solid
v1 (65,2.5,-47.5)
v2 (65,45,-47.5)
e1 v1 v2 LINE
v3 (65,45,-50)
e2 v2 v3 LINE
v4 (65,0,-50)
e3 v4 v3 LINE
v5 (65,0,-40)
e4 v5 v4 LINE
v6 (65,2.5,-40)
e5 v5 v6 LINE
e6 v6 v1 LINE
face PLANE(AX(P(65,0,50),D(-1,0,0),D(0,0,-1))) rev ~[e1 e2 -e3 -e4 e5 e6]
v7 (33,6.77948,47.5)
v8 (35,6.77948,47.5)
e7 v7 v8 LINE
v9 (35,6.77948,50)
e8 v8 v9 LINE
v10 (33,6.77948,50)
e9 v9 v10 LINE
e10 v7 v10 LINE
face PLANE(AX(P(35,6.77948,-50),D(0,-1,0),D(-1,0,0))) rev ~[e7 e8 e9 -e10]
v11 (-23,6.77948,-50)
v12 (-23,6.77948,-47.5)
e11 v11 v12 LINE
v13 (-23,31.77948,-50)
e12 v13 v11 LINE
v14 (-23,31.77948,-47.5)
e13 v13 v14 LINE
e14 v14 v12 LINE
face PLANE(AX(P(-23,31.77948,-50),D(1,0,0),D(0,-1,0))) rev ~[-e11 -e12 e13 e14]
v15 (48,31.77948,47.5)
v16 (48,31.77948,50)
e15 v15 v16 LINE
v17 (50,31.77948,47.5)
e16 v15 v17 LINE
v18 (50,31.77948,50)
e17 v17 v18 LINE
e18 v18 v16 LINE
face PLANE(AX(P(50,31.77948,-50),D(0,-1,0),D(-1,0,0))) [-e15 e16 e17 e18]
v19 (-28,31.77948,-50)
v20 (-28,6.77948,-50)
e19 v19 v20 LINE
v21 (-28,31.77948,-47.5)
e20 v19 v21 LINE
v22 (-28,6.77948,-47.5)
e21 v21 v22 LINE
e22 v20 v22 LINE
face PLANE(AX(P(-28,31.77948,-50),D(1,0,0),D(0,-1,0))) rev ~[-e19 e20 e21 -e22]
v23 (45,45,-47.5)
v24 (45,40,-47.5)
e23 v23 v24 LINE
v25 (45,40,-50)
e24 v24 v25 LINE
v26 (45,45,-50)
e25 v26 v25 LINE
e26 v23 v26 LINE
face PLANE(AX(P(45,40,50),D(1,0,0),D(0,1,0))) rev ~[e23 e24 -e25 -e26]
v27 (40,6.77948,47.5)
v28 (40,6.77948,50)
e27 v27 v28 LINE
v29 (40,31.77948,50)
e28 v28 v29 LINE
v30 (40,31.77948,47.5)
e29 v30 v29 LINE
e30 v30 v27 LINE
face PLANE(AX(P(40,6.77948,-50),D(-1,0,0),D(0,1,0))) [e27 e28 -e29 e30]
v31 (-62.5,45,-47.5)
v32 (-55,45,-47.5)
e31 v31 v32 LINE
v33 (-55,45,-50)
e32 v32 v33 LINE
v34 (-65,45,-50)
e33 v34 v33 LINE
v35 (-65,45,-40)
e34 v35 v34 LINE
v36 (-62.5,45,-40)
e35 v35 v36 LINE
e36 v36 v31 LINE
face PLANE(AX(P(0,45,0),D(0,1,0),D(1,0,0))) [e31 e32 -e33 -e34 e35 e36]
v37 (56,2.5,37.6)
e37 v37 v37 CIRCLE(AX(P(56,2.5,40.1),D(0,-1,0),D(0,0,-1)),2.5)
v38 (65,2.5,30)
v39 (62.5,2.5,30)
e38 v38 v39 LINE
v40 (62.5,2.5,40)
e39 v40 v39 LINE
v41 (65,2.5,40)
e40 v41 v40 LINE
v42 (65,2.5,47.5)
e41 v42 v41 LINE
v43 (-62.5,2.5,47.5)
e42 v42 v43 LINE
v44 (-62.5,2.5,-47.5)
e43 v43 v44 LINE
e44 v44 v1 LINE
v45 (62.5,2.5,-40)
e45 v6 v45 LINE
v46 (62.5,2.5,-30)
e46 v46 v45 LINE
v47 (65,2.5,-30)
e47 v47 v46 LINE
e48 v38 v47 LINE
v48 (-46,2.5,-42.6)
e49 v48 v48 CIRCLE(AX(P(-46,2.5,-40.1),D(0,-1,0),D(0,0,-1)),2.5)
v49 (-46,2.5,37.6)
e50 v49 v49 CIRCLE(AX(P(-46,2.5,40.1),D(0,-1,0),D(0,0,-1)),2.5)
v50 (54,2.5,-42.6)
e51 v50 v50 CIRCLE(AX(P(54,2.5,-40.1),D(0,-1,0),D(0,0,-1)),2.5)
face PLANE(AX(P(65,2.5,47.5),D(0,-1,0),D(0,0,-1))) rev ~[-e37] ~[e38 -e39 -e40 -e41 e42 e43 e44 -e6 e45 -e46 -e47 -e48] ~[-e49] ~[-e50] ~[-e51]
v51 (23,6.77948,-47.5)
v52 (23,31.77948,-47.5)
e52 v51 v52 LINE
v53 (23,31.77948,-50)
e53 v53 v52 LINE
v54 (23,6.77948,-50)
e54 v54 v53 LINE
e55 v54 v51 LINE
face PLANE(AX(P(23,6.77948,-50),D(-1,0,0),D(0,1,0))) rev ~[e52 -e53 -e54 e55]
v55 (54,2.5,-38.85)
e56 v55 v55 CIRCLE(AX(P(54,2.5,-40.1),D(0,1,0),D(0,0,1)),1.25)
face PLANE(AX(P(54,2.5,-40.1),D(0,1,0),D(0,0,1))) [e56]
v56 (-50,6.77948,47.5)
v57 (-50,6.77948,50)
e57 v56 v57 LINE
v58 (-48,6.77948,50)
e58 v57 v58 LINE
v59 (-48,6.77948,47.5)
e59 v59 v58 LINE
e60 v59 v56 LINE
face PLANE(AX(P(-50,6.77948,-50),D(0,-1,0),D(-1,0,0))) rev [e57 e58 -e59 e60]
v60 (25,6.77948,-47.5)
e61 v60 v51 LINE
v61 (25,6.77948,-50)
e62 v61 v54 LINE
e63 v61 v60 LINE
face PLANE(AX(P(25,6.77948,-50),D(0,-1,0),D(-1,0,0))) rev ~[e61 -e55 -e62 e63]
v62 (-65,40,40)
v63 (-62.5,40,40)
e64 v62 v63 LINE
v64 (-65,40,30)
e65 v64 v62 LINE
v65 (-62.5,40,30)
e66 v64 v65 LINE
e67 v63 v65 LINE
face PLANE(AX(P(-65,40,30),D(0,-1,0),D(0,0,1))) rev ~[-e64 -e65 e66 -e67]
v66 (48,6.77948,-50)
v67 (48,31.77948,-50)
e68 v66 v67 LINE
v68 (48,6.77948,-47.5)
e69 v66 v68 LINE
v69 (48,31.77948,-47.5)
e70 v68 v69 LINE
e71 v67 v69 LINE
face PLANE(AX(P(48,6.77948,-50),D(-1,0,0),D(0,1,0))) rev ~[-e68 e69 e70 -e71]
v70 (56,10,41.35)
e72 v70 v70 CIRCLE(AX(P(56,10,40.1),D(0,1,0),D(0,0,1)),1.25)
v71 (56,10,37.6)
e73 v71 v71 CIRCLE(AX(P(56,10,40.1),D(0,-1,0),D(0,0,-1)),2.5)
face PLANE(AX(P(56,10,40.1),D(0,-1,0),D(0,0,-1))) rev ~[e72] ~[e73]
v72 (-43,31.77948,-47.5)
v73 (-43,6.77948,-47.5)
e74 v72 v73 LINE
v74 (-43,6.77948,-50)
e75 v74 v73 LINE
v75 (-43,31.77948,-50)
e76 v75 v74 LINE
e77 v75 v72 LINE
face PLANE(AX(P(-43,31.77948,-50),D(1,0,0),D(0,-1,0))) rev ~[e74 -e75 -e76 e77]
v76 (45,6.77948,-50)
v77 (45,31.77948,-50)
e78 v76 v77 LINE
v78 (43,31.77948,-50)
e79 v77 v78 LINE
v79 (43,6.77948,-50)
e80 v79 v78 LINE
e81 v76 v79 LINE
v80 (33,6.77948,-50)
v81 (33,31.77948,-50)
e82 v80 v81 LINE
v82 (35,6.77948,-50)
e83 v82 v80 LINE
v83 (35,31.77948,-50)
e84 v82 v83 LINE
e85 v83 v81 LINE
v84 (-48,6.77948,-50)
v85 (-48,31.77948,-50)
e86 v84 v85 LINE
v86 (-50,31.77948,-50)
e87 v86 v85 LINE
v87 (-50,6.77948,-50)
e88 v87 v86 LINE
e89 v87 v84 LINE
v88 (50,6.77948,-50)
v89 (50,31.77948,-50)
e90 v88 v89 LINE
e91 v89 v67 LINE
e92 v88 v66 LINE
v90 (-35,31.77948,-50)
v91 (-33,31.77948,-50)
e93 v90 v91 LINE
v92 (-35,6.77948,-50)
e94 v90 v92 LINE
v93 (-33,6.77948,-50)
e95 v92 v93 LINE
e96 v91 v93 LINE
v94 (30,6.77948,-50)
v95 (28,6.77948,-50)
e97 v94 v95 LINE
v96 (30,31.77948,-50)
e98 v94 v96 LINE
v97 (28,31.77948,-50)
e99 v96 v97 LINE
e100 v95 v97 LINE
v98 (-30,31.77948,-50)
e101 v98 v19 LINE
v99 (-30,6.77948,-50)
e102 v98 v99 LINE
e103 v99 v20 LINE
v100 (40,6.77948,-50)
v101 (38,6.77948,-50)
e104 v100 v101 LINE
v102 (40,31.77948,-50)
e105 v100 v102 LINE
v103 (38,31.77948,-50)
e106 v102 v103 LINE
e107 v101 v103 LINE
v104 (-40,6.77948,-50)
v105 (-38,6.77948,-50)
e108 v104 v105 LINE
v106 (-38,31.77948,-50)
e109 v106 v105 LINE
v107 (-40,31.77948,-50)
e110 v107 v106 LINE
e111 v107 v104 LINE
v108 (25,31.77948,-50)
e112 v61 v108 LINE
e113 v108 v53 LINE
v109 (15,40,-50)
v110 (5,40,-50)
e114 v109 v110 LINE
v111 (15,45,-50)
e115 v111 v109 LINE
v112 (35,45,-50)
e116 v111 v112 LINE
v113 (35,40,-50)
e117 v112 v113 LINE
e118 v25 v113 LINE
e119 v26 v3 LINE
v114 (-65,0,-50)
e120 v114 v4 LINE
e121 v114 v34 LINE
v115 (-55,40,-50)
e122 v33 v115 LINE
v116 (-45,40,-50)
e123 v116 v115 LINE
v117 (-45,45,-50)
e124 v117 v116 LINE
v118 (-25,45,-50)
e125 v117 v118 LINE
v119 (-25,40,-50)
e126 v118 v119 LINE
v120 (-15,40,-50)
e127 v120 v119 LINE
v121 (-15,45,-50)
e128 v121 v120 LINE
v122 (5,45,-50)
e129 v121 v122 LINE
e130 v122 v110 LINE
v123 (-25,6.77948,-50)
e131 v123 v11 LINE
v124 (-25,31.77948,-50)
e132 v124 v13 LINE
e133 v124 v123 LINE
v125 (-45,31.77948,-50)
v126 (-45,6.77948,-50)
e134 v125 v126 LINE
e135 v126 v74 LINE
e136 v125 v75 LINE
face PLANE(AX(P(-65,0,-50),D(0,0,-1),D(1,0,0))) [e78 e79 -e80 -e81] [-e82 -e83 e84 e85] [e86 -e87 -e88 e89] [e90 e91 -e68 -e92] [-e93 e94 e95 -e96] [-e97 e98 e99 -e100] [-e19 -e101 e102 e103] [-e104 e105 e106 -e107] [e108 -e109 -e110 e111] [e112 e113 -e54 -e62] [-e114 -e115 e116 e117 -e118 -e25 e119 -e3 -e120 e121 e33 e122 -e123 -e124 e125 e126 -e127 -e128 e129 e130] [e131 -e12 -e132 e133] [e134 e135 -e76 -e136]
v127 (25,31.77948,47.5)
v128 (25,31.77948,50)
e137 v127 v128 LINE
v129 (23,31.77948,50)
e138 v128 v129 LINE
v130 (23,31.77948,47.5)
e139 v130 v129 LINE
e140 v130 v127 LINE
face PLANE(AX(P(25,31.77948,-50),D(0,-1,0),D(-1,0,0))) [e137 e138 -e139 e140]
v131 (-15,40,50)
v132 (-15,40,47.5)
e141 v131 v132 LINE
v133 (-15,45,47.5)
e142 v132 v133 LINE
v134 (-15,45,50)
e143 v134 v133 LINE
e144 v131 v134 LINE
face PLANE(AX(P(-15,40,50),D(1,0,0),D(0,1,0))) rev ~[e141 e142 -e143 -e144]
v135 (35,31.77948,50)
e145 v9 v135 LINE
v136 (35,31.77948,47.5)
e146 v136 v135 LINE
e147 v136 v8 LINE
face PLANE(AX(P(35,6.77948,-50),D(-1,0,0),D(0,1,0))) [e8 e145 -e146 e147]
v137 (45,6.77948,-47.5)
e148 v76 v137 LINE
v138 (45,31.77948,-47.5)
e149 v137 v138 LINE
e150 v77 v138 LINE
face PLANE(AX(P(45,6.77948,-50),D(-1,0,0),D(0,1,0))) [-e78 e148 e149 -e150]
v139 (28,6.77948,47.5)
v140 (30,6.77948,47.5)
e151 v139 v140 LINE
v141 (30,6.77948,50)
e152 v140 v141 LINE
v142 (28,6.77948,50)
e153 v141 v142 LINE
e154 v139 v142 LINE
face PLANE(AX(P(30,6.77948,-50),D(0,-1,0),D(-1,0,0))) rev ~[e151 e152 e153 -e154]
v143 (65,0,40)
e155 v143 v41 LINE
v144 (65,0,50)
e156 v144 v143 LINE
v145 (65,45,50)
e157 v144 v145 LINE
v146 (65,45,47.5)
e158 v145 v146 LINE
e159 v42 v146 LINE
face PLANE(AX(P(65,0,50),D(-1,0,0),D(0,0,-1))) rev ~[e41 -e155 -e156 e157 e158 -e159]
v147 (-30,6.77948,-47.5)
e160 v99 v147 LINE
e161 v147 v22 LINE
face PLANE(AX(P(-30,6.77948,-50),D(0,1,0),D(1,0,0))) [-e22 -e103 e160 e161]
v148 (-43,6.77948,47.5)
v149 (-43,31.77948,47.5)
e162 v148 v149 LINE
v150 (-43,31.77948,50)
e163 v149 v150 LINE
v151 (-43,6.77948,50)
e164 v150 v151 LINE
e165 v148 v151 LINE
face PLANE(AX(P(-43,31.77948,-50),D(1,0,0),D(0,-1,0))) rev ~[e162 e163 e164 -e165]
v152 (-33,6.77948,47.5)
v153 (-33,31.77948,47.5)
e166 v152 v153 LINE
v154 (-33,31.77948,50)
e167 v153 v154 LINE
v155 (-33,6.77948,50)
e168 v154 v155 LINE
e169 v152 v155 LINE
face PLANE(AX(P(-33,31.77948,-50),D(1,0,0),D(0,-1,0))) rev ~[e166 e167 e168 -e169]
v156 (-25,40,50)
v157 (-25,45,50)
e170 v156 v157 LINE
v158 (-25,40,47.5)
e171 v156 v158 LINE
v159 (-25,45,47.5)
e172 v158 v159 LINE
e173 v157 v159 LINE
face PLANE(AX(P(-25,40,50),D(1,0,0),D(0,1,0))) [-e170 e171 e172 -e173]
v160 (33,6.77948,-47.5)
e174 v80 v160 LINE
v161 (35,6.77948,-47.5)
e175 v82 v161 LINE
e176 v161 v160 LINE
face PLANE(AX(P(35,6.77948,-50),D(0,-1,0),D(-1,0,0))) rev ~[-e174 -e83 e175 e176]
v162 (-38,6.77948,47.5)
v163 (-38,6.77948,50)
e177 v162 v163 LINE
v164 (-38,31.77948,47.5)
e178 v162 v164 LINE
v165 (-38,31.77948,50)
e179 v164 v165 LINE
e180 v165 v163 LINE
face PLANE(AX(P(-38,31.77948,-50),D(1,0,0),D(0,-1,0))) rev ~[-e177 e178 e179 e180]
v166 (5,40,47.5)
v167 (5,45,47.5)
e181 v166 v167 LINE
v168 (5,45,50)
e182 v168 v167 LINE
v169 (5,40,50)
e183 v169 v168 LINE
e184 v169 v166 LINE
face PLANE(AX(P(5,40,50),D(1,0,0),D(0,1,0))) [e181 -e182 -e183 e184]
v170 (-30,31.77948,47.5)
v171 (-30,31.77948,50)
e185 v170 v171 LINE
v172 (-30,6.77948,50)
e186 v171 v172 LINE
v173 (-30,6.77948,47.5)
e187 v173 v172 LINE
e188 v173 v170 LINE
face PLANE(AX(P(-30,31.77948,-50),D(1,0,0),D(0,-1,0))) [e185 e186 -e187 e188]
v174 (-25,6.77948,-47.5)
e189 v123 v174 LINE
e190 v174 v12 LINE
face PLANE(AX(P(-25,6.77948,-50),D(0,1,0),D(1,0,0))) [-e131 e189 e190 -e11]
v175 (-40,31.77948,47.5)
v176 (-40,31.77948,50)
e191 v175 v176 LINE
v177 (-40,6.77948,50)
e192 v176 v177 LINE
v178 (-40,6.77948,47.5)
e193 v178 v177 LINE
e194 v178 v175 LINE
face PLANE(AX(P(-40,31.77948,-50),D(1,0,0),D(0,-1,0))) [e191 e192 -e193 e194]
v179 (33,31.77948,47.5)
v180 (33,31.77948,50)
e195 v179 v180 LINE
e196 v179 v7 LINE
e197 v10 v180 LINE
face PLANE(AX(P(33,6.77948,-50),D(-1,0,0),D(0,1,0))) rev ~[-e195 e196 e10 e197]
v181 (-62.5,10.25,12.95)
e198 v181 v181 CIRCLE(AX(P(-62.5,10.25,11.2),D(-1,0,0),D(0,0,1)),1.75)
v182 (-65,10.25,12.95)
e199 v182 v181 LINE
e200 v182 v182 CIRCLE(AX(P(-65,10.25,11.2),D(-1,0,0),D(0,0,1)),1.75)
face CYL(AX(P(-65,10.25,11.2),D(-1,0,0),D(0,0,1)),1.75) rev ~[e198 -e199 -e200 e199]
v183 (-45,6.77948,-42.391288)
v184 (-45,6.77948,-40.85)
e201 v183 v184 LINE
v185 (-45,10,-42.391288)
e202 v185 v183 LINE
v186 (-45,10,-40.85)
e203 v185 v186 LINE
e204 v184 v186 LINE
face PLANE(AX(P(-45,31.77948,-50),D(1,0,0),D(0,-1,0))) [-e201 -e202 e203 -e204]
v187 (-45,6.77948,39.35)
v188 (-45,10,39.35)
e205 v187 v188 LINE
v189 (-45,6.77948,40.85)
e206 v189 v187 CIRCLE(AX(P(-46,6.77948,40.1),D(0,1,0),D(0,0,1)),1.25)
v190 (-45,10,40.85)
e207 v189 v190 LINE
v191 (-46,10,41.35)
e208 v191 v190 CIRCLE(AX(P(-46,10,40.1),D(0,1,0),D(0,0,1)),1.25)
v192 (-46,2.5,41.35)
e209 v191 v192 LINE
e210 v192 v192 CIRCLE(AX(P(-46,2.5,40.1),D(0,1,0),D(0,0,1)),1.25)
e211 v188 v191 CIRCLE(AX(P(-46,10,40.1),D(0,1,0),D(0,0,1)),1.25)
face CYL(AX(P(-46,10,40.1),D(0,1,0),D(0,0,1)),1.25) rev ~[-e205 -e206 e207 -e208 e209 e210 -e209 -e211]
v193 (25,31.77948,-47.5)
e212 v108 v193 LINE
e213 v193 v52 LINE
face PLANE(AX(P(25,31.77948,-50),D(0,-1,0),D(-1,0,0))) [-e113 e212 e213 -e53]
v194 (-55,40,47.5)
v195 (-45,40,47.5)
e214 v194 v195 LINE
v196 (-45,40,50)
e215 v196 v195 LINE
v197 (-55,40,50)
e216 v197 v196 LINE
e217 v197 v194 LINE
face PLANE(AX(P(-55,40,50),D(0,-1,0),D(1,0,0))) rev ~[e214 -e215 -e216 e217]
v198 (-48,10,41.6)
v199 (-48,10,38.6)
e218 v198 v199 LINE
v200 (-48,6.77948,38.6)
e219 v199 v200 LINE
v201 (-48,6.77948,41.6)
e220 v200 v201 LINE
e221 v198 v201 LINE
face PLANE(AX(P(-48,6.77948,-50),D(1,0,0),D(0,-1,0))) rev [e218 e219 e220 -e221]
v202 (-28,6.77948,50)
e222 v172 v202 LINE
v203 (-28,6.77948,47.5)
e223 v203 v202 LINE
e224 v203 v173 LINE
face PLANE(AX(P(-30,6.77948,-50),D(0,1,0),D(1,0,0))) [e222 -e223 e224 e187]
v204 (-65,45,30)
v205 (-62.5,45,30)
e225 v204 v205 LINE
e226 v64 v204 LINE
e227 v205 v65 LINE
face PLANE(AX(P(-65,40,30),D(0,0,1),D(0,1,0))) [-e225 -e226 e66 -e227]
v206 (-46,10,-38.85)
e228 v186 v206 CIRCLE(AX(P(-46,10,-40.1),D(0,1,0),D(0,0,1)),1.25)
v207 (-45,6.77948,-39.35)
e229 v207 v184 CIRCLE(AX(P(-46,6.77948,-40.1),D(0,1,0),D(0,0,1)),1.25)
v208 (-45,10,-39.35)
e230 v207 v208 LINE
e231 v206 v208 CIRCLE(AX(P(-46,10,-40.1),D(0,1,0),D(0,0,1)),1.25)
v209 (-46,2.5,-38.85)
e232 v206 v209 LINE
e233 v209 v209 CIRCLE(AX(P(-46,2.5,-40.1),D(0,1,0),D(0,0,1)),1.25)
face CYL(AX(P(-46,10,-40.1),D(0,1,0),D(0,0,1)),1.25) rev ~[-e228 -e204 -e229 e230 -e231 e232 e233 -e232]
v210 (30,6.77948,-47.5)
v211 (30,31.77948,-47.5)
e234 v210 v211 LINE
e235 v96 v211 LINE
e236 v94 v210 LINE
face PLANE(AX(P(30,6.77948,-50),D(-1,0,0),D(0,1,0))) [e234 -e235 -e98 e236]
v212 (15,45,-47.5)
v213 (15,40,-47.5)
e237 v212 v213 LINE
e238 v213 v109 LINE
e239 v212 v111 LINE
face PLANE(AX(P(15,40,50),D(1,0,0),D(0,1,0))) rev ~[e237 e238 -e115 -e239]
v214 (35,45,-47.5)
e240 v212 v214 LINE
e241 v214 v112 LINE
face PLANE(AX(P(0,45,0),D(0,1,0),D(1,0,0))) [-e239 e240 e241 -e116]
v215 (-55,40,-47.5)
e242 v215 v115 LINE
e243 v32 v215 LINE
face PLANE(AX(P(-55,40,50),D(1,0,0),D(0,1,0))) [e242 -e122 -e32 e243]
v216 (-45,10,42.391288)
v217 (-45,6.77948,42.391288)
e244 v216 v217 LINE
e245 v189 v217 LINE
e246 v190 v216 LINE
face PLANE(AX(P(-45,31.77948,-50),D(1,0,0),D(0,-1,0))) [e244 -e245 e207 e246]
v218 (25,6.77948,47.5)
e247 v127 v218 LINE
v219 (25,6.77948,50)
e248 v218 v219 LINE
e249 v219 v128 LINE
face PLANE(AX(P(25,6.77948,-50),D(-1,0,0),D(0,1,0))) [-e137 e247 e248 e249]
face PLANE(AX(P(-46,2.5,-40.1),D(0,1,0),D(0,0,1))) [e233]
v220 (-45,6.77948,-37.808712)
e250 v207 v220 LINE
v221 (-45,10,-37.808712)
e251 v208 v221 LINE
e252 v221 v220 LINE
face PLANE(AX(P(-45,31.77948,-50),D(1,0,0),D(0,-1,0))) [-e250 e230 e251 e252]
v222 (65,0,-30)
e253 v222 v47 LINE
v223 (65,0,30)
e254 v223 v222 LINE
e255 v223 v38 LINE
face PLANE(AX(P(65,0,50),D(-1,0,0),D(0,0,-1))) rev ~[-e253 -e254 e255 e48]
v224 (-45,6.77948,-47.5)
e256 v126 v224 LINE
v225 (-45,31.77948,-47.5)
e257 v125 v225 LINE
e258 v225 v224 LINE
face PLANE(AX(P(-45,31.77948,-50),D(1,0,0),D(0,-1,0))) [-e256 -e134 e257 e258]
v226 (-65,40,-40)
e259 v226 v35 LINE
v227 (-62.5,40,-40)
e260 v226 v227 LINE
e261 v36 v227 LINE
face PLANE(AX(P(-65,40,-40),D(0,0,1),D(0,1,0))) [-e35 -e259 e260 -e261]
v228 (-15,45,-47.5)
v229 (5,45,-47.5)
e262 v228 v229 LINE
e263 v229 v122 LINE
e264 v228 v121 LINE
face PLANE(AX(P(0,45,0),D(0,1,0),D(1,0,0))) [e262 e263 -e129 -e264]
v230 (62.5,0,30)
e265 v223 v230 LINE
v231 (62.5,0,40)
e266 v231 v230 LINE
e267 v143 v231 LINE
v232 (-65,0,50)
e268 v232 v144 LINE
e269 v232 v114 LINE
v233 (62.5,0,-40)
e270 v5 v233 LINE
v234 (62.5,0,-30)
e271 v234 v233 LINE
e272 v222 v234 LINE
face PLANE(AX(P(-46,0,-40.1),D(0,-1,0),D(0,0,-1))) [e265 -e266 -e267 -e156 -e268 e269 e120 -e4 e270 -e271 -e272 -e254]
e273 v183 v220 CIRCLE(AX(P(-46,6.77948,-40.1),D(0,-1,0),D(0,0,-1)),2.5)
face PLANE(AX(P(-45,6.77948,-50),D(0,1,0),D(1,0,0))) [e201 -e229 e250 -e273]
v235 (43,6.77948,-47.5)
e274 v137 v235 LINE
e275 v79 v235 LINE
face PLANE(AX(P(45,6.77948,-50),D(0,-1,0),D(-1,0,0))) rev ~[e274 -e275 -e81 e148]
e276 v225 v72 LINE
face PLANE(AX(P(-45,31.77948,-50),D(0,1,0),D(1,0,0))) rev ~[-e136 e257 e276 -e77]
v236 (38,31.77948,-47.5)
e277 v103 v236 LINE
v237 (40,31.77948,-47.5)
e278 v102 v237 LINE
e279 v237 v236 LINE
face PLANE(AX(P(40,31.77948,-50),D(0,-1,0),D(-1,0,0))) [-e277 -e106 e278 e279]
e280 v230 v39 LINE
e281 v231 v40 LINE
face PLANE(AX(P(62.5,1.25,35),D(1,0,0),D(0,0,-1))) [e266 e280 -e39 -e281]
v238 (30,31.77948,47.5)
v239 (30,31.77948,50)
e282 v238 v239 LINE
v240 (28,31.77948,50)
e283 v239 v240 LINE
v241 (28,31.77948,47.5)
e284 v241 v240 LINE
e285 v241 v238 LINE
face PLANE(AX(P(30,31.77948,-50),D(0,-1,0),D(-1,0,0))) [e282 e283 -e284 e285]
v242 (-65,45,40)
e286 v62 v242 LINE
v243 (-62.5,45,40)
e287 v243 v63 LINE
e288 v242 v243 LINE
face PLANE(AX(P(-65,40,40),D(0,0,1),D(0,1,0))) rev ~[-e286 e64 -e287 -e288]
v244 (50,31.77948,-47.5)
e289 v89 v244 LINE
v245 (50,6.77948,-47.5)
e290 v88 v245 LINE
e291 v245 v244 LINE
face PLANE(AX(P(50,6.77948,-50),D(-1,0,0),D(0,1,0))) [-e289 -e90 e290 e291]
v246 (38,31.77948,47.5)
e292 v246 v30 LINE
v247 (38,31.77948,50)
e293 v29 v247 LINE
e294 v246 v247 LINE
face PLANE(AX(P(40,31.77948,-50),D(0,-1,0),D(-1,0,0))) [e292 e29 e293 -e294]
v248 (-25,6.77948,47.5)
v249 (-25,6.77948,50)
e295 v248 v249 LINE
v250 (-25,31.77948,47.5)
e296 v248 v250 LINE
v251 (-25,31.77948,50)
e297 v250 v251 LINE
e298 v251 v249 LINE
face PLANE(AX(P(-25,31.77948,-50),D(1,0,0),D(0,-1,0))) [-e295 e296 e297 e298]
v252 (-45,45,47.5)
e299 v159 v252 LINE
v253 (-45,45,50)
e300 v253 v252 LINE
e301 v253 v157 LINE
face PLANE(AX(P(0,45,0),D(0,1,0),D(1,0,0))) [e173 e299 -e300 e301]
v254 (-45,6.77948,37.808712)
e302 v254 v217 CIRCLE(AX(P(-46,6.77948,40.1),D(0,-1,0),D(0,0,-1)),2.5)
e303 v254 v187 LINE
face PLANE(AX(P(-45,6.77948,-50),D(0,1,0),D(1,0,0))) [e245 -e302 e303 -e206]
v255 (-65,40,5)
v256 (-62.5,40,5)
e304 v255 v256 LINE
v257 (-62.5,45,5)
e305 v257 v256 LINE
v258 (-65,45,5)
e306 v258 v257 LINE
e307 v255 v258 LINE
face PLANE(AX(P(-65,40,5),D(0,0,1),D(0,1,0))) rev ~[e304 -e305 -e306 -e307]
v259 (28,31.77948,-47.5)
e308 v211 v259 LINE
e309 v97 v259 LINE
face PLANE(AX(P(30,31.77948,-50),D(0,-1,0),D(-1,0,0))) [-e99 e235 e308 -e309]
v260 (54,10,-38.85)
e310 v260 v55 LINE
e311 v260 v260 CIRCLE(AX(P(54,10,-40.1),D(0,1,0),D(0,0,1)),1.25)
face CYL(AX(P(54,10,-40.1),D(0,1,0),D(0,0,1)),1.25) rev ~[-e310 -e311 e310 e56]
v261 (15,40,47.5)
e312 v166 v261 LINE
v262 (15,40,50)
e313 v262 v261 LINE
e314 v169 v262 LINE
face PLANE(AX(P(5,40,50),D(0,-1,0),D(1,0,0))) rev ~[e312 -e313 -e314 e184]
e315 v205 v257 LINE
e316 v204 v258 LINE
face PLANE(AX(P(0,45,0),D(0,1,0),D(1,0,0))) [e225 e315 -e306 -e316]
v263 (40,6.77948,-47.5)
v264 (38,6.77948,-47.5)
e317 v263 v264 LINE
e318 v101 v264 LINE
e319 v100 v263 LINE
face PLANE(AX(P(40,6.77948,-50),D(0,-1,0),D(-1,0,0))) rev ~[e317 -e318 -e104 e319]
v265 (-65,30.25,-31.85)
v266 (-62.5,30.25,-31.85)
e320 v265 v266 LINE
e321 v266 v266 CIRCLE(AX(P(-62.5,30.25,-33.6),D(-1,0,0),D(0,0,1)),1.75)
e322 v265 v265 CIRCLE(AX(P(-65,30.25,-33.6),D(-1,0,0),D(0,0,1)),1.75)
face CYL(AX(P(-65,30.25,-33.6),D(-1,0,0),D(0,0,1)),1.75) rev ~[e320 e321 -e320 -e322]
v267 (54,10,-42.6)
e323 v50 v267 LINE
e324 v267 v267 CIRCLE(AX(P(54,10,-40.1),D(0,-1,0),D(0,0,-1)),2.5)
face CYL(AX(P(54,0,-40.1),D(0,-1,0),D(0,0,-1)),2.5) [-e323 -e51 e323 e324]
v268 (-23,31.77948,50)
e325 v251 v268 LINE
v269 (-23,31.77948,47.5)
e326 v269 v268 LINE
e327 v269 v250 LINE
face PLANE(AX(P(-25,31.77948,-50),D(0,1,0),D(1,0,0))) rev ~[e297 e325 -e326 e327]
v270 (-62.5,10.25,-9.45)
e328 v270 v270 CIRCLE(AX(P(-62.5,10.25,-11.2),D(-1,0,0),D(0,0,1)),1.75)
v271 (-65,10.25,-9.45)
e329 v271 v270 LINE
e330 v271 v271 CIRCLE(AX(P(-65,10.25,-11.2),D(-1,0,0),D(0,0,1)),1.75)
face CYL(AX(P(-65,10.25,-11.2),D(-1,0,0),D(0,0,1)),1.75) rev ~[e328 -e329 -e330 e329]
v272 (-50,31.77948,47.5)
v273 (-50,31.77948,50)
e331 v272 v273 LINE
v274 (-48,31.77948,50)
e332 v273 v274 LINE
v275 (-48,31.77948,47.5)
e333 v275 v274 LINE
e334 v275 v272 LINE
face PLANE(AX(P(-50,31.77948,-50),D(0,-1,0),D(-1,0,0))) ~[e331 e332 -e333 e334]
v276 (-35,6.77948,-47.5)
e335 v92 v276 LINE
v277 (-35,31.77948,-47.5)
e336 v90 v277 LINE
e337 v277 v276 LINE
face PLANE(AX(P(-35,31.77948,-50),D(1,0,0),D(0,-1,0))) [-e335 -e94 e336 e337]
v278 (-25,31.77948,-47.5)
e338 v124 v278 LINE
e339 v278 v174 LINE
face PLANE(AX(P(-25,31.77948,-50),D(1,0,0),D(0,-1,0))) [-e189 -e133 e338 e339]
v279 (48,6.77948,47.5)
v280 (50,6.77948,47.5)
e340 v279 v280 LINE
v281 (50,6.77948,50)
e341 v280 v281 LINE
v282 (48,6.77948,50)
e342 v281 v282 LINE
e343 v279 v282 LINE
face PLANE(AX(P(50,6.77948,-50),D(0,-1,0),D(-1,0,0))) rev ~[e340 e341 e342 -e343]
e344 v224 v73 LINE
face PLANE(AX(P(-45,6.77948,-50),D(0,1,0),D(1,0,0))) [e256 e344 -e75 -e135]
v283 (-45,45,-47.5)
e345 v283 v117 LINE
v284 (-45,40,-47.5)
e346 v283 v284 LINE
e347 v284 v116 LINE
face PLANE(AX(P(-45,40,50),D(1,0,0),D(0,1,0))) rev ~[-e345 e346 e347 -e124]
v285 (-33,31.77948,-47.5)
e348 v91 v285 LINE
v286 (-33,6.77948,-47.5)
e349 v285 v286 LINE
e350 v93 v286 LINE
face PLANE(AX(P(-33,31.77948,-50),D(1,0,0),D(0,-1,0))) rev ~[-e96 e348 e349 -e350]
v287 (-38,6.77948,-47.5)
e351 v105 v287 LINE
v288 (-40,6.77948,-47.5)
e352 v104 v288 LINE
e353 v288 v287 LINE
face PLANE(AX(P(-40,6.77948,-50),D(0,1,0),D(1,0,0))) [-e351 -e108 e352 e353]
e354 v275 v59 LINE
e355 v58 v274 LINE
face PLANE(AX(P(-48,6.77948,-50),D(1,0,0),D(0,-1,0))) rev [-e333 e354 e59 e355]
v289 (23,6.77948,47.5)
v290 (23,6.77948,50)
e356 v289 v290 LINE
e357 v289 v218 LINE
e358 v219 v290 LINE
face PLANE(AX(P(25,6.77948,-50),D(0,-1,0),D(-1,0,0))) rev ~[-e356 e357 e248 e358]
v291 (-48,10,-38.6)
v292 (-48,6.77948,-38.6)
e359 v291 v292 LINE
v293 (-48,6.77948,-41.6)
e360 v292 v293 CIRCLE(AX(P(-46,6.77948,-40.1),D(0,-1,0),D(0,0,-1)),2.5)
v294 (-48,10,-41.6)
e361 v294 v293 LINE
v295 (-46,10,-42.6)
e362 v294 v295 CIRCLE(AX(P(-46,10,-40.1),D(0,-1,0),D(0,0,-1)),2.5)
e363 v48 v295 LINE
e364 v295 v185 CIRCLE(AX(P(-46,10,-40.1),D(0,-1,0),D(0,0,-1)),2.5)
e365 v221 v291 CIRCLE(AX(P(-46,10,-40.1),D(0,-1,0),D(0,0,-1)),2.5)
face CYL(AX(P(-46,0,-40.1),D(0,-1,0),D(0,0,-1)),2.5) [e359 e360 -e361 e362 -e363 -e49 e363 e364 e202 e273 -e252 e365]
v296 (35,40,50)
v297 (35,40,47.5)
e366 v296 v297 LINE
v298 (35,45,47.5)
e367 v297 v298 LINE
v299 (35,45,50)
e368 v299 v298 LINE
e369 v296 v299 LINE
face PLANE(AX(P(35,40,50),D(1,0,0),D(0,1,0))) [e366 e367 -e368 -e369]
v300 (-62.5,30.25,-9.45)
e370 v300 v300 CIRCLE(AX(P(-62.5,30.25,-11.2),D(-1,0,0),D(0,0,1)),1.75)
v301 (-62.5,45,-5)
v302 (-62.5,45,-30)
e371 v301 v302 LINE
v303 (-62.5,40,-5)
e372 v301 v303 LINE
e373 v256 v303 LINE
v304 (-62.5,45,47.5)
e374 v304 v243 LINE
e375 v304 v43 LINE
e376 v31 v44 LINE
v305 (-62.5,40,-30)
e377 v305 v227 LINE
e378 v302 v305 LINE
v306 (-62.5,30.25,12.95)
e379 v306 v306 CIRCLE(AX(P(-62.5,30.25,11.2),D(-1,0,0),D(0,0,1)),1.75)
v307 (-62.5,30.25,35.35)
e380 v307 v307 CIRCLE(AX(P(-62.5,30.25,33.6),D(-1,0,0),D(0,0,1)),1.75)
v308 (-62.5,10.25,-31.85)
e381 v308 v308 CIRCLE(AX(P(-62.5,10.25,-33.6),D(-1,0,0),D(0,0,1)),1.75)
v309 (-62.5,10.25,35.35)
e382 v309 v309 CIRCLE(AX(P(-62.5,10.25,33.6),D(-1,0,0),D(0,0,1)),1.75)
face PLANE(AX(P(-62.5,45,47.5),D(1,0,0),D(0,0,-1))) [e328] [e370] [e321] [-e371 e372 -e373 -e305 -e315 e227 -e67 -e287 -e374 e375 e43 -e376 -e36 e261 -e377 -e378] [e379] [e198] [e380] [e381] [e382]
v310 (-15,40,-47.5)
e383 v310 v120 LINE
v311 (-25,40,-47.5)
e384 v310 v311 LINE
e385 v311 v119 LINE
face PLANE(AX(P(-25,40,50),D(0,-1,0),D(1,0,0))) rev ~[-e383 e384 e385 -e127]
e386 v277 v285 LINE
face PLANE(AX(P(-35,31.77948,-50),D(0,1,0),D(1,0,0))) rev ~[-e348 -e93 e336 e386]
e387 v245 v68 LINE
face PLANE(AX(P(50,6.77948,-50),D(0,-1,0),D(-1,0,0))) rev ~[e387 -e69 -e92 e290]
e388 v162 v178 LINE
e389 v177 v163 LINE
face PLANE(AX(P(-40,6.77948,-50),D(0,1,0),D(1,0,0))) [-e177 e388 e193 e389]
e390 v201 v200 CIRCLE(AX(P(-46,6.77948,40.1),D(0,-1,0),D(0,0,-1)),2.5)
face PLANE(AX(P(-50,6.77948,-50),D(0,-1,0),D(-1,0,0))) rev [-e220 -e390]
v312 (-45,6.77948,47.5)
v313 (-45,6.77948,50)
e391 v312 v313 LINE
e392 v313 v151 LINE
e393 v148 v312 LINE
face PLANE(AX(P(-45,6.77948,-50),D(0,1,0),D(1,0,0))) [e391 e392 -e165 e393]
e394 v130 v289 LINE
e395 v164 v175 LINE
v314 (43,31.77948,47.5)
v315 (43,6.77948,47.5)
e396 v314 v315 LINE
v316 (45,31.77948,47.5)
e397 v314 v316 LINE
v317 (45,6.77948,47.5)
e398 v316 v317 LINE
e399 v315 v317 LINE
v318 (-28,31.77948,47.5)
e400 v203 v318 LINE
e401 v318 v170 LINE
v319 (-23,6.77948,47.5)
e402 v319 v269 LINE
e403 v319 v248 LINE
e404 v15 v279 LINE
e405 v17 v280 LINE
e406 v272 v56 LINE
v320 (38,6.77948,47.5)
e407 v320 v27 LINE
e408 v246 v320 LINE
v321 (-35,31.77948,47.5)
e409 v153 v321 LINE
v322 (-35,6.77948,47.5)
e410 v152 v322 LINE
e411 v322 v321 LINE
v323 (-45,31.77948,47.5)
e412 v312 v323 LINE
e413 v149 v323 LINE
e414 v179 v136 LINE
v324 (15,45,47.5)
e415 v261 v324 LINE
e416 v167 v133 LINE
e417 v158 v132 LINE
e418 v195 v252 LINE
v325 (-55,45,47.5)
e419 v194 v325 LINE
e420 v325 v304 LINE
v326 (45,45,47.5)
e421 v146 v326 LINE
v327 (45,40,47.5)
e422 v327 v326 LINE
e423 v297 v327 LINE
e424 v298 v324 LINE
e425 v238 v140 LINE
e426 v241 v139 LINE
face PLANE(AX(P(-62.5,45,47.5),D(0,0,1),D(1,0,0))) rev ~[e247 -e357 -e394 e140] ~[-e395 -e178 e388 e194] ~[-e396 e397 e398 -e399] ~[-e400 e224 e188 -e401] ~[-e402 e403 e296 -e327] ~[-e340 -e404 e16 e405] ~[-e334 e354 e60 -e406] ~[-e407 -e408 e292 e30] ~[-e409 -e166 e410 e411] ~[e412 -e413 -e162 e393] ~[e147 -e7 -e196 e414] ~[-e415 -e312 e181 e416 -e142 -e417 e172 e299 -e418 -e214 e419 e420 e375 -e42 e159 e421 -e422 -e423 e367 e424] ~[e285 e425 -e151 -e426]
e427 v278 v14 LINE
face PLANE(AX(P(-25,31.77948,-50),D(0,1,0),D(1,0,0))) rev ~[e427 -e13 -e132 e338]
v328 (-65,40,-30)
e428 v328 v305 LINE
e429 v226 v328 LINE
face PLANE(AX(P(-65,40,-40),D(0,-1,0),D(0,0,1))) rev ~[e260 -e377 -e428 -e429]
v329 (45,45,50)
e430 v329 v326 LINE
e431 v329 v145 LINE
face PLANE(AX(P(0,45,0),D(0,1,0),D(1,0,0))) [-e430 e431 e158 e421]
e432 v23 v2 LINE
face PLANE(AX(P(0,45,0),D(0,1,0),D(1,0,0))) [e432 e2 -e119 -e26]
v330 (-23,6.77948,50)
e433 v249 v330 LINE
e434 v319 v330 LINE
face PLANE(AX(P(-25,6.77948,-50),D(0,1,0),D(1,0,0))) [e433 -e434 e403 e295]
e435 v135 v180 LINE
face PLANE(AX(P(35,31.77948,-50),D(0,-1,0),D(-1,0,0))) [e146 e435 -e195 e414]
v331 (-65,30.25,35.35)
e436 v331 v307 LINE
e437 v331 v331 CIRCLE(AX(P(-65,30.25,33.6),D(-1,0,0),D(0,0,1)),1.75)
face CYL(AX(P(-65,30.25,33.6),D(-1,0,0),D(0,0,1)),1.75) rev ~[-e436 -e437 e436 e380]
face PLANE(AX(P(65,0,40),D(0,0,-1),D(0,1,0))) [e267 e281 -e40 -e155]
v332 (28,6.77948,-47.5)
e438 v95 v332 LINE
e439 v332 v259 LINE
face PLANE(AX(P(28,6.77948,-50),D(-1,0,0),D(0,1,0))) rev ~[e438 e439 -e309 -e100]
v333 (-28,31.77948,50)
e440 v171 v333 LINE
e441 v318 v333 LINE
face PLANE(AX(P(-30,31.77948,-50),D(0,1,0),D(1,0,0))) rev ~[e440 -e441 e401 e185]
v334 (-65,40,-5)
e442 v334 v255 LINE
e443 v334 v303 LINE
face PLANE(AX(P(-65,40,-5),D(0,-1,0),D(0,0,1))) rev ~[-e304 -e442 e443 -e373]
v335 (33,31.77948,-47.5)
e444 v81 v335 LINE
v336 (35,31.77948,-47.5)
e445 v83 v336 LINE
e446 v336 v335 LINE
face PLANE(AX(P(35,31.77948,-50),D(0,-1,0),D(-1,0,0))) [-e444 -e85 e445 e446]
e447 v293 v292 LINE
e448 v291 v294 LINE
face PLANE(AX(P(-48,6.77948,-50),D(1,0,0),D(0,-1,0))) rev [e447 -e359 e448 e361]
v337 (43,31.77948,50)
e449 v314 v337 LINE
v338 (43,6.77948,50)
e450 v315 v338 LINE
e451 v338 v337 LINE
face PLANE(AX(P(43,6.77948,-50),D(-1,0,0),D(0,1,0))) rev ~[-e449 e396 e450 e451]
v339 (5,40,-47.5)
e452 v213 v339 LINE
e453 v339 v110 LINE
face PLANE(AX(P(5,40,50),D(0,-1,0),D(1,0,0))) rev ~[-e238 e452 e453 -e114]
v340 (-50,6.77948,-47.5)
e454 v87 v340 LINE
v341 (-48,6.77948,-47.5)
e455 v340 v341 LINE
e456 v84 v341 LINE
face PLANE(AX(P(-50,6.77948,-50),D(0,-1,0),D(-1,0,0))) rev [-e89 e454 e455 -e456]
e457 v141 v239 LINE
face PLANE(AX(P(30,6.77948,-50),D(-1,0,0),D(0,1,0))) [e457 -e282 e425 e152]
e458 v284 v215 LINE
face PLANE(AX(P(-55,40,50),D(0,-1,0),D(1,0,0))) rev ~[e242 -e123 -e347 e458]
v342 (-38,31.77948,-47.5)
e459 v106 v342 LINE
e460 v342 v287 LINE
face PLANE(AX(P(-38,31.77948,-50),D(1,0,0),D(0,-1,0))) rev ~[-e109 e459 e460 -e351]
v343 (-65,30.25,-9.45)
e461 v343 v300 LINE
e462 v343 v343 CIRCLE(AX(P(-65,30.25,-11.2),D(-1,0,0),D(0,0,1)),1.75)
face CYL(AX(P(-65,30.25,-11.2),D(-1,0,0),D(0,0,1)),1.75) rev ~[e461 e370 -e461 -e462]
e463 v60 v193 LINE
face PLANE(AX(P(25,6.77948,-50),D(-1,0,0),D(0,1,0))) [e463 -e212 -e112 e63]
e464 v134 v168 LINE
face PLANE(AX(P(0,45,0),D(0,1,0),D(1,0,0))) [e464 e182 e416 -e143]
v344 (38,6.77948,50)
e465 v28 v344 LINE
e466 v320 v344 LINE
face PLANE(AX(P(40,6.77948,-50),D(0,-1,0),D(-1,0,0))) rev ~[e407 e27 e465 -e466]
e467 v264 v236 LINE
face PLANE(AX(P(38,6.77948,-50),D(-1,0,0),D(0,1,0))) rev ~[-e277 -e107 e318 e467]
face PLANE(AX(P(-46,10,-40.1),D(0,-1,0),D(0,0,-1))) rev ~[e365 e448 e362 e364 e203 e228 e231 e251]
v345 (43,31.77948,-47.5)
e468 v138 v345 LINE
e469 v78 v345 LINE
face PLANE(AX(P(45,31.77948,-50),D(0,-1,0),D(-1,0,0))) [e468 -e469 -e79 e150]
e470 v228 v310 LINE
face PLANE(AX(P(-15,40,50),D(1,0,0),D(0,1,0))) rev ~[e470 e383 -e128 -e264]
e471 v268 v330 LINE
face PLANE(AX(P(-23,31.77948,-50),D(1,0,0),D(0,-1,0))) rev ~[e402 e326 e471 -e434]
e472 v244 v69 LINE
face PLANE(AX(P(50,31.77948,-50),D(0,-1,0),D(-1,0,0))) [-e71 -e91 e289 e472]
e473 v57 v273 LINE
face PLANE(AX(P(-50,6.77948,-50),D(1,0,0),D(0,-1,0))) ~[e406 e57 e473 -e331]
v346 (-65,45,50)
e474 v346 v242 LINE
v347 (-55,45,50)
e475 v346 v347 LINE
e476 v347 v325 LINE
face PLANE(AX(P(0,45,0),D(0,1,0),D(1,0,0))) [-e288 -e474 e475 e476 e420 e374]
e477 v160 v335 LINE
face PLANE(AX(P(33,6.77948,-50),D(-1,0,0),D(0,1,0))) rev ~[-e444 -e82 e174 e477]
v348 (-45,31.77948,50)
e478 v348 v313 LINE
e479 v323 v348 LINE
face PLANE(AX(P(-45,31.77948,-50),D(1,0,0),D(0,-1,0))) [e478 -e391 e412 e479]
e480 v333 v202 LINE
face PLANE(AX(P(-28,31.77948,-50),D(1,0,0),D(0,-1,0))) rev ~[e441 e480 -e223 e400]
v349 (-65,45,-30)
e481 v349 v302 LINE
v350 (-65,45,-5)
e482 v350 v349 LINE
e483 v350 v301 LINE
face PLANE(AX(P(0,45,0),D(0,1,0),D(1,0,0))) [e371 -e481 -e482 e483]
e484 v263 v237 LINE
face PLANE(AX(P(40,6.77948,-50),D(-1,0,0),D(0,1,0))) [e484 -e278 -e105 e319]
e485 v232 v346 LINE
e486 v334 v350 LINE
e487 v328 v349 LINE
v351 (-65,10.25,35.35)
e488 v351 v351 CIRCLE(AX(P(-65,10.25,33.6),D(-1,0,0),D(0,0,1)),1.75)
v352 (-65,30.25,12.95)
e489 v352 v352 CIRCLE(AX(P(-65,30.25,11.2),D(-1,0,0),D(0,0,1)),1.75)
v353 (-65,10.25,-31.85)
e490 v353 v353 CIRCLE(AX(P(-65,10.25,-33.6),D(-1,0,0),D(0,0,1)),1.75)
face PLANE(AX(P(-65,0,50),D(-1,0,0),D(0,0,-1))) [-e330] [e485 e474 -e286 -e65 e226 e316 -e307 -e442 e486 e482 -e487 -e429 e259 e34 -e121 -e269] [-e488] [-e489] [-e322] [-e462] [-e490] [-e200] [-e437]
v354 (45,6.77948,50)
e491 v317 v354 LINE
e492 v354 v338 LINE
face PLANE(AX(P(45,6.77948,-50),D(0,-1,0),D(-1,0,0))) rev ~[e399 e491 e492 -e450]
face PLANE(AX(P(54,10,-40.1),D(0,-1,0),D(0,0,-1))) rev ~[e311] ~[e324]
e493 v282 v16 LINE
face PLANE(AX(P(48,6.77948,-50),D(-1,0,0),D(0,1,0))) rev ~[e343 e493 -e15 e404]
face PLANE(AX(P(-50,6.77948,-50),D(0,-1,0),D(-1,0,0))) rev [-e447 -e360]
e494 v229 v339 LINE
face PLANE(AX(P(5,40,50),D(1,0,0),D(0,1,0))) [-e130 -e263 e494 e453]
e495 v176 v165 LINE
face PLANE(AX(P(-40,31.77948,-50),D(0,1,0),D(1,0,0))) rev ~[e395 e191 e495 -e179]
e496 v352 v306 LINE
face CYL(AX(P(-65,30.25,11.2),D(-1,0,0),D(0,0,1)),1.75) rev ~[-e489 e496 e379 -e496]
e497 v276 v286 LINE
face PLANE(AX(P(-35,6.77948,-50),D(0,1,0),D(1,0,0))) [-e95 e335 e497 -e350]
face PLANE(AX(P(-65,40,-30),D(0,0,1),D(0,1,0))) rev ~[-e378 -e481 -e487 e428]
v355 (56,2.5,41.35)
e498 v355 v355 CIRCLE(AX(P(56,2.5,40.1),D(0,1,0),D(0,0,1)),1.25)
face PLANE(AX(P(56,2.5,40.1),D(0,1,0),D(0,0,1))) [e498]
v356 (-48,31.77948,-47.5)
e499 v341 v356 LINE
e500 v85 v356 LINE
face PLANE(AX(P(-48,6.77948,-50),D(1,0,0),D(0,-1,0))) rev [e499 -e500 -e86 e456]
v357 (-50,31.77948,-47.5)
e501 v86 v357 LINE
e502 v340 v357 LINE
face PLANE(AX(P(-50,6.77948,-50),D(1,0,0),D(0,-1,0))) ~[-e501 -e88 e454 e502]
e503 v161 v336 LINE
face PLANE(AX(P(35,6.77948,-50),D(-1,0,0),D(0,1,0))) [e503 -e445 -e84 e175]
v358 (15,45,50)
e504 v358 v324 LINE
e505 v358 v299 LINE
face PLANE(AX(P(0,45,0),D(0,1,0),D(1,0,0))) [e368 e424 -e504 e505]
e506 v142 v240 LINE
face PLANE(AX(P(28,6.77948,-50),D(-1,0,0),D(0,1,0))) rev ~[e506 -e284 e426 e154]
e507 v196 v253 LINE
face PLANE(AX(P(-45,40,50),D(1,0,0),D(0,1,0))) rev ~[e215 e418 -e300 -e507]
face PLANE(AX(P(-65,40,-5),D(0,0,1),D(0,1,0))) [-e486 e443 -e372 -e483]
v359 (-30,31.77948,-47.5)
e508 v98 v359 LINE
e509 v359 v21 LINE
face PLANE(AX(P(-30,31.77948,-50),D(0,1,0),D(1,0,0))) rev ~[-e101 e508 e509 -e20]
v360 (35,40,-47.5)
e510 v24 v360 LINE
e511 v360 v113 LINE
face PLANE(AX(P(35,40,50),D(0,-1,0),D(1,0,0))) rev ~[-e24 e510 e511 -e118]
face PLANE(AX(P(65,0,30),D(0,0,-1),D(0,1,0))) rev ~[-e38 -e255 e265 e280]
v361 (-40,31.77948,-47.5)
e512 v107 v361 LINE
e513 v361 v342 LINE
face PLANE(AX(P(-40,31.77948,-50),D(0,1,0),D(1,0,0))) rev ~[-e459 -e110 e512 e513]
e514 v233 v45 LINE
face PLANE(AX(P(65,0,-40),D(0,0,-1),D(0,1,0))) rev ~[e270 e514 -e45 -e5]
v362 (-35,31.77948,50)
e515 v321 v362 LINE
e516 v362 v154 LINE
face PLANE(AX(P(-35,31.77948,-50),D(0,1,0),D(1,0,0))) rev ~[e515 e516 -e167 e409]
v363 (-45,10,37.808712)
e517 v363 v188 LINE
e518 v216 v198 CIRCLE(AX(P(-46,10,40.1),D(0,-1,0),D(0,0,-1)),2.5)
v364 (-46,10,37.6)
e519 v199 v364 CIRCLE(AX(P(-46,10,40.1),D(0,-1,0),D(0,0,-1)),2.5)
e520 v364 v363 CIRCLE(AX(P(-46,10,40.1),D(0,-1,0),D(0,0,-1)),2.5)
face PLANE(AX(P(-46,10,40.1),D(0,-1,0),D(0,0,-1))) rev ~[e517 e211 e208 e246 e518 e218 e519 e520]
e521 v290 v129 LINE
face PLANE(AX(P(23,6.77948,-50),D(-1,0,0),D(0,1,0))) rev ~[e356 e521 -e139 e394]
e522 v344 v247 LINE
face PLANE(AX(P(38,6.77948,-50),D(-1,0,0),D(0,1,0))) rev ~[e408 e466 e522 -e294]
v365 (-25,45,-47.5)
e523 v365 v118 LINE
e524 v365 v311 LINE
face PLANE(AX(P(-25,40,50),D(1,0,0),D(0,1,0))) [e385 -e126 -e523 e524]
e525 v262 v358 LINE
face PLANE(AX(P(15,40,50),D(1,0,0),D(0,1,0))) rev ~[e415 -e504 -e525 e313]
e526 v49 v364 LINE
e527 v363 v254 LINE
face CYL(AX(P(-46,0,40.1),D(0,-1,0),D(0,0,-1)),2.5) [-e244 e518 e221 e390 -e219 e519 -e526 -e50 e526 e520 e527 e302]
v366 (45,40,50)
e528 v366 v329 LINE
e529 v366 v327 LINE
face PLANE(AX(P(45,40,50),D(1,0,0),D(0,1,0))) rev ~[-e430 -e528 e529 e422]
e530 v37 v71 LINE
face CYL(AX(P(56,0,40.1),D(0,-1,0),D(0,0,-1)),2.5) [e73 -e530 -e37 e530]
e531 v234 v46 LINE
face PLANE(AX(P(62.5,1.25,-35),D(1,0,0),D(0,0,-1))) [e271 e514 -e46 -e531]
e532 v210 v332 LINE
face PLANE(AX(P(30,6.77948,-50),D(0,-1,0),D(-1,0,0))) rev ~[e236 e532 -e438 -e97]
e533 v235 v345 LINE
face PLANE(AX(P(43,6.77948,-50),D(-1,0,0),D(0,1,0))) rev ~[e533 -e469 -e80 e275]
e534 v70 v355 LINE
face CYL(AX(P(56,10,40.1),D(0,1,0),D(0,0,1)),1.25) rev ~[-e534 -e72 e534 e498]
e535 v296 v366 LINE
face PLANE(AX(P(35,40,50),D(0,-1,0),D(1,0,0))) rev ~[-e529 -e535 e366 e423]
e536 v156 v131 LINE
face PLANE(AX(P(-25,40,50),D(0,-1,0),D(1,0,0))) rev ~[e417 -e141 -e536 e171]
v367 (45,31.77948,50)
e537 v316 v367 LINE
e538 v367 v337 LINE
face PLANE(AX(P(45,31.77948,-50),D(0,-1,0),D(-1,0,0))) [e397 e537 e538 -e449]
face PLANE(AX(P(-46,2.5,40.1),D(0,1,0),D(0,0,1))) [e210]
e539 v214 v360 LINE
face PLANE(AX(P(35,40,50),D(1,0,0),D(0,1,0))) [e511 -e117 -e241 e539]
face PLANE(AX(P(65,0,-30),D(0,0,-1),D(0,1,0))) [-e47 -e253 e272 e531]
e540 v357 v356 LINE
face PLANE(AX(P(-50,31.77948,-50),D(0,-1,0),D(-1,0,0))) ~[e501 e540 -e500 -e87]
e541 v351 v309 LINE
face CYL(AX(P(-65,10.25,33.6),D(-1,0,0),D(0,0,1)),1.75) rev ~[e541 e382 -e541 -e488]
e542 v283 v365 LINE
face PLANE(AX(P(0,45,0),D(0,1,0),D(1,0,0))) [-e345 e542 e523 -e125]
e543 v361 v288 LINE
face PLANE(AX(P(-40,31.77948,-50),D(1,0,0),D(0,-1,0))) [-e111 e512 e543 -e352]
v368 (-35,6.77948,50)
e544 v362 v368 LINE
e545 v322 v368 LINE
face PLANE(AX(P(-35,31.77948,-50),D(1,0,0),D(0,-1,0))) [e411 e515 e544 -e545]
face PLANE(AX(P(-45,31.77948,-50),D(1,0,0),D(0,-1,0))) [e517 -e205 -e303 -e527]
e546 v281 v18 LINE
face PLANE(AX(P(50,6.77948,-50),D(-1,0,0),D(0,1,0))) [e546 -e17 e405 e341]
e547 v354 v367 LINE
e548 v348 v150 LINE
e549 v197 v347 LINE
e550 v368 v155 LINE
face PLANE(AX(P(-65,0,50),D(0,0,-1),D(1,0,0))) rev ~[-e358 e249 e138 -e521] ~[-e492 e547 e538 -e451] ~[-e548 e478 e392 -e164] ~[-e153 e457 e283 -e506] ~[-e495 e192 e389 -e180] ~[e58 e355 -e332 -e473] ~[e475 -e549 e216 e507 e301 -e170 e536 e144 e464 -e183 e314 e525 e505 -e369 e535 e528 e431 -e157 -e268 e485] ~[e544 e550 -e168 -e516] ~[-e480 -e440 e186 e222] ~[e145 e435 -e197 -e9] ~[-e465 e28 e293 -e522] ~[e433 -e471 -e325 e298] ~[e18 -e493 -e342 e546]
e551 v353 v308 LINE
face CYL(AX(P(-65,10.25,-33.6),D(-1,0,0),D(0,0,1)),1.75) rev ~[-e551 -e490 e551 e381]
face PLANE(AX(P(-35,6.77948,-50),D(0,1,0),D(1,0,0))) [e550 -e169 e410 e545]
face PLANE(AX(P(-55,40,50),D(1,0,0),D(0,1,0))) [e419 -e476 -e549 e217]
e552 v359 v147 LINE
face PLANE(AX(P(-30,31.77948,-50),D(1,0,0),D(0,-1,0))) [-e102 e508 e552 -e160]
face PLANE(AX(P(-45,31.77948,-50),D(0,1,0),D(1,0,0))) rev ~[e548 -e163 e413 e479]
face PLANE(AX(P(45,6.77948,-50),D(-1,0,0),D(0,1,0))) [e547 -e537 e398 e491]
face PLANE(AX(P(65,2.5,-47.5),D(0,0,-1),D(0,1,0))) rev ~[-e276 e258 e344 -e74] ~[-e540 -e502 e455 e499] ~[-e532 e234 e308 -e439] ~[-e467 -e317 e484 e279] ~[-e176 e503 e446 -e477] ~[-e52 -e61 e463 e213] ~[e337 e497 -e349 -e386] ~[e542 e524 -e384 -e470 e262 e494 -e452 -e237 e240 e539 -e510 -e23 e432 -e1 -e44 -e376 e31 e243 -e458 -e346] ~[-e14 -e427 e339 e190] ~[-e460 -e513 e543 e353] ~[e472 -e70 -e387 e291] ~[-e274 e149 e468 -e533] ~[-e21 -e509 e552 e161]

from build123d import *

# Parameters (mm, degrees)
SKETCH1_W               = 130
SKETCH1_H               = 100
BOSS_EXTRUDE2_DEPTH     = 45
SKETCH2_W               = 125
SKETCH2_H               = 95
CUT_EXTRUDE2_DEPTH      = 42.5
SKETCH3_W               = 95
SKETCH3_H               = 42.5
CUT_EXTRUDE3_DEPTH      = 30
SKETCH4_W               = 10
SKETCH4_H               = 5
CUT_EXTRUDE4_DEPTH      = 128.47548784
LPATTERN1_COUNT         = 4
LPATTERN1_PITCH         = 30
SKETCH5_W               = 10
SKETCH5_H               = 5
CUT_EXTRUDE5_DEPTH      = 147.372811683
LPATTERN2_COUNT         = 3
LPATTERN2_PITCH         = 35
SKETCH6_R               = 2.5
BOSS_EXTRUDE6_DEPTH     = 10
SKETCH8_R               = 1.25
CUT_EXTRUDE8_DEPTH      = 7.5
SKETCH10_R              = 1.75
CUT_EXTRUDE10_DEPTH     = 2.5
LPATTERN3_COUNT         = 4
LPATTERN3_PITCH         = 22.4
SKETCH11_W              = 10
SKETCH11_H              = 2.5
CUT_EXTRUDE11_DEPTH     = 2.5
SKETCH12_W              = 10
SKETCH12_H              = 2.5
CUT_EXTRUDE12_DEPTH     = 2.5
SKETCH13_W              = 2
SKETCH13_H              = 25
CUT_EXTRUDE13_DEPTH     = 128.47548784
LPATTERN4_COUNT         = 6
LPATTERN4_PITCH         = 5
MIRROR1_COPY_1_SKETCH_W = 2
MIRROR1_COPY_1_SKETCH_H = 25
MIRROR1_COPY_1_DEPTH    = 128.47548784
MIRROR1_COPY_2_SKETCH_W = 2
MIRROR1_COPY_2_SKETCH_H = 25
MIRROR1_COPY_2_DEPTH    = 128.47548784
MIRROR1_COPY_3_SKETCH_W = 2
MIRROR1_COPY_3_SKETCH_H = 25
MIRROR1_COPY_3_DEPTH    = 128.47548784
MIRROR1_COPY_4_SKETCH_W = 2
MIRROR1_COPY_4_SKETCH_H = 25
MIRROR1_COPY_4_DEPTH    = 128.47548784
MIRROR1_COPY_5_SKETCH_W = 2
MIRROR1_COPY_5_SKETCH_H = 25
MIRROR1_COPY_5_DEPTH    = 128.47548784


with BuildPart() as part:
    # Sketch1 → Boss-Extrude2 (new body)
    with BuildSketch(Plane(origin=(0, 0, 0), x_dir=(1, 0, 0), z_dir=(0, 1, 0))):
        Rectangle(SKETCH1_W, SKETCH1_H)
    extrude(amount=BOSS_EXTRUDE2_DEPTH)

    # Sketch2 → Cut-Extrude2 (cut)
    with BuildSketch(Plane(origin=(0, 45, 0), x_dir=(1, 0, 0), z_dir=(0, 1, 0))):
        Rectangle(SKETCH2_W, SKETCH2_H)
    extrude(amount=-CUT_EXTRUDE2_DEPTH, mode=Mode.SUBTRACT)

    # Sketch3 → Cut-Extrude3 (cut)
    with BuildSketch(Plane(origin=(65, 0, 0), x_dir=(0, 0, -1), z_dir=(1, 0, 0))):
        with Locations((0, 23.75)):
            Rectangle(SKETCH3_W, SKETCH3_H)
    extrude(amount=-CUT_EXTRUDE3_DEPTH, mode=Mode.SUBTRACT)

    # Sketch4 → Cut-Extrude4 (cut, through all)
    with BuildSketch(Plane.XY.offset(50)):
        with Locations((-50, 42.5)):
            Rectangle(SKETCH4_W, SKETCH4_H)
    cut_extrude4 = extrude(amount=-CUT_EXTRUDE4_DEPTH, mode=Mode.SUBTRACT)

    # LPattern1: Cut-Extrude4 ×4
    with Locations(*[(i * LPATTERN1_PITCH, 0, 0) for i in range(1, LPATTERN1_COUNT)]):
        add(cut_extrude4, mode=Mode.SUBTRACT)

    # Sketch5 → Cut-Extrude5 (cut, through all)
    with BuildSketch(Plane.ZY.offset(65)):
        with Locations((-35, 42.5)):
            Rectangle(SKETCH5_W, SKETCH5_H)
    cut_extrude5 = extrude(amount=-CUT_EXTRUDE5_DEPTH, mode=Mode.SUBTRACT)

    # LPattern2: Cut-Extrude5 ×3
    with Locations(*[(0, 0, i * LPATTERN2_PITCH) for i in range(1, LPATTERN2_COUNT)]):
        add(cut_extrude5, mode=Mode.SUBTRACT)

    # Sketch6 → Boss-Extrude6 (add)
    with BuildSketch(Plane.XZ):
        with Locations(Location((-46, -40.1, 0), (0, 0, 270))):
            Circle(SKETCH6_R)
        with Locations(Location((-46, 40.1, 0), (0, 0, 270))):
            Circle(SKETCH6_R)
        with Locations(Location((56, 40.1, 0), (0, 0, 270))):
            Circle(SKETCH6_R)
        with Locations(Location((54, -40.1, 0), (0, 0, 270))):
            Circle(SKETCH6_R)
    extrude(amount=-BOSS_EXTRUDE6_DEPTH)

    # Sketch8 → Cut-Extrude8 (cut)
    with BuildSketch(Plane(origin=(0, 10, 0), x_dir=(1, 0, 0), z_dir=(0, 1, 0))):
        with Locations(Location((56, -40.1, 0), (0, 0, 270))):
            Circle(SKETCH8_R)
        with Locations(Location((54, 40.1, 0), (0, 0, 270))):
            Circle(SKETCH8_R)
        with Locations(Location((-46, 40.1, 0), (0, 0, 270))):
            Circle(SKETCH8_R)
        with Locations(Location((-46, -40.1, 0), (0, 0, 270))):
            Circle(SKETCH8_R)
    extrude(amount=-CUT_EXTRUDE8_DEPTH, mode=Mode.SUBTRACT)

    # Sketch10 → Cut-Extrude10 (cut)
    with BuildSketch(Plane.ZY.offset(65)):
        with Locations((-33.6, 10.25)):
            Circle(SKETCH10_R)
        with Locations((-33.6, 30.25)):
            Circle(SKETCH10_R)
    cut_extrude10 = extrude(amount=-CUT_EXTRUDE10_DEPTH, mode=Mode.SUBTRACT)

    # LPattern3: Cut-Extrude10 ×4
    with Locations(*[(0, 0, i * LPATTERN3_PITCH) for i in range(1, LPATTERN3_COUNT)]):
        add(cut_extrude10, mode=Mode.SUBTRACT)

    # Sketch11 → Cut-Extrude11 (cut)
    with BuildSketch(Plane(origin=(65, 0, 0), x_dir=(0, 0, -1), z_dir=(1, 0, 0))):
        with Locations((-35, 1.25)):
            Rectangle(SKETCH11_W, SKETCH11_H)
    extrude(amount=-CUT_EXTRUDE11_DEPTH, mode=Mode.SUBTRACT)

    # Sketch12 → Cut-Extrude12 (cut)
    with BuildSketch(Plane(origin=(65, 0, 0), x_dir=(0, 0, -1), z_dir=(1, 0, 0))):
        with Locations((35, 1.25)):
            Rectangle(SKETCH12_W, SKETCH12_H)
    extrude(amount=-CUT_EXTRUDE12_DEPTH, mode=Mode.SUBTRACT)

    # Sketch13 → Cut-Extrude13 (cut, through all)
    with BuildSketch(Plane(origin=(0, 0, -50), x_dir=(-1, 0, 0), z_dir=(0, 0, -1))):
        with Locations((-49, 19.279479595)):
            Rectangle(SKETCH13_W, SKETCH13_H)
    cut_extrude13 = extrude(amount=-CUT_EXTRUDE13_DEPTH, mode=Mode.SUBTRACT)

    # LPattern4: Cut-Extrude13 ×6
    with Locations(*[(-i * LPATTERN4_PITCH, 0, 0) for i in range(1, LPATTERN4_COUNT)]):
        add(cut_extrude13, mode=Mode.SUBTRACT)

    # Mirror1: Cut-Extrude13 across plane
    add(cut_extrude13.mirror(Plane(origin=(0, 0, 0), x_dir=(0, 0, 1), z_dir=(1, 0, 0))), mode=Mode.SUBTRACT)

    # Mirror1 copy 1 sketch → Mirror1 copy 1 (cut, through all)
    with BuildSketch(Plane(origin=(5, 0, -50), x_dir=(1, 0, 0), z_dir=(0, 0, -1))):
        with Locations((-49, -19.279479595)):
            Rectangle(MIRROR1_COPY_1_SKETCH_W, MIRROR1_COPY_1_SKETCH_H)
    extrude(amount=-MIRROR1_COPY_1_DEPTH, mode=Mode.SUBTRACT)

    # Mirror1 copy 2 sketch → Mirror1 copy 2 (cut, through all)
    with BuildSketch(Plane(origin=(10, 0, -50), x_dir=(1, 0, 0), z_dir=(0, 0, -1))):
        with Locations((-49, -19.279479595)):
            Rectangle(MIRROR1_COPY_2_SKETCH_W, MIRROR1_COPY_2_SKETCH_H)
    extrude(amount=-MIRROR1_COPY_2_DEPTH, mode=Mode.SUBTRACT)

    # Mirror1 copy 3 sketch → Mirror1 copy 3 (cut, through all)
    with BuildSketch(Plane(origin=(15, 0, -50), x_dir=(1, 0, 0), z_dir=(0, 0, -1))):
        with Locations((-49, -19.279479595)):
            Rectangle(MIRROR1_COPY_3_SKETCH_W, MIRROR1_COPY_3_SKETCH_H)
    extrude(amount=-MIRROR1_COPY_3_DEPTH, mode=Mode.SUBTRACT)

    # Mirror1 copy 4 sketch → Mirror1 copy 4 (cut, through all)
    with BuildSketch(Plane(origin=(20, 0, -50), x_dir=(1, 0, 0), z_dir=(0, 0, -1))):
        with Locations((-49, -19.279479595)):
            Rectangle(MIRROR1_COPY_4_SKETCH_W, MIRROR1_COPY_4_SKETCH_H)
    extrude(amount=-MIRROR1_COPY_4_DEPTH, mode=Mode.SUBTRACT)

    # Mirror1 copy 5 sketch → Mirror1 copy 5 (cut, through all)
    with BuildSketch(Plane(origin=(25, 0, -50), x_dir=(1, 0, 0), z_dir=(0, 0, -1))):
        with Locations((-49, -19.279479595)):
            Rectangle(MIRROR1_COPY_5_SKETCH_W, MIRROR1_COPY_5_SKETCH_H)
    extrude(amount=-MIRROR1_COPY_5_DEPTH, mode=Mode.SUBTRACT)


solid = part.part
